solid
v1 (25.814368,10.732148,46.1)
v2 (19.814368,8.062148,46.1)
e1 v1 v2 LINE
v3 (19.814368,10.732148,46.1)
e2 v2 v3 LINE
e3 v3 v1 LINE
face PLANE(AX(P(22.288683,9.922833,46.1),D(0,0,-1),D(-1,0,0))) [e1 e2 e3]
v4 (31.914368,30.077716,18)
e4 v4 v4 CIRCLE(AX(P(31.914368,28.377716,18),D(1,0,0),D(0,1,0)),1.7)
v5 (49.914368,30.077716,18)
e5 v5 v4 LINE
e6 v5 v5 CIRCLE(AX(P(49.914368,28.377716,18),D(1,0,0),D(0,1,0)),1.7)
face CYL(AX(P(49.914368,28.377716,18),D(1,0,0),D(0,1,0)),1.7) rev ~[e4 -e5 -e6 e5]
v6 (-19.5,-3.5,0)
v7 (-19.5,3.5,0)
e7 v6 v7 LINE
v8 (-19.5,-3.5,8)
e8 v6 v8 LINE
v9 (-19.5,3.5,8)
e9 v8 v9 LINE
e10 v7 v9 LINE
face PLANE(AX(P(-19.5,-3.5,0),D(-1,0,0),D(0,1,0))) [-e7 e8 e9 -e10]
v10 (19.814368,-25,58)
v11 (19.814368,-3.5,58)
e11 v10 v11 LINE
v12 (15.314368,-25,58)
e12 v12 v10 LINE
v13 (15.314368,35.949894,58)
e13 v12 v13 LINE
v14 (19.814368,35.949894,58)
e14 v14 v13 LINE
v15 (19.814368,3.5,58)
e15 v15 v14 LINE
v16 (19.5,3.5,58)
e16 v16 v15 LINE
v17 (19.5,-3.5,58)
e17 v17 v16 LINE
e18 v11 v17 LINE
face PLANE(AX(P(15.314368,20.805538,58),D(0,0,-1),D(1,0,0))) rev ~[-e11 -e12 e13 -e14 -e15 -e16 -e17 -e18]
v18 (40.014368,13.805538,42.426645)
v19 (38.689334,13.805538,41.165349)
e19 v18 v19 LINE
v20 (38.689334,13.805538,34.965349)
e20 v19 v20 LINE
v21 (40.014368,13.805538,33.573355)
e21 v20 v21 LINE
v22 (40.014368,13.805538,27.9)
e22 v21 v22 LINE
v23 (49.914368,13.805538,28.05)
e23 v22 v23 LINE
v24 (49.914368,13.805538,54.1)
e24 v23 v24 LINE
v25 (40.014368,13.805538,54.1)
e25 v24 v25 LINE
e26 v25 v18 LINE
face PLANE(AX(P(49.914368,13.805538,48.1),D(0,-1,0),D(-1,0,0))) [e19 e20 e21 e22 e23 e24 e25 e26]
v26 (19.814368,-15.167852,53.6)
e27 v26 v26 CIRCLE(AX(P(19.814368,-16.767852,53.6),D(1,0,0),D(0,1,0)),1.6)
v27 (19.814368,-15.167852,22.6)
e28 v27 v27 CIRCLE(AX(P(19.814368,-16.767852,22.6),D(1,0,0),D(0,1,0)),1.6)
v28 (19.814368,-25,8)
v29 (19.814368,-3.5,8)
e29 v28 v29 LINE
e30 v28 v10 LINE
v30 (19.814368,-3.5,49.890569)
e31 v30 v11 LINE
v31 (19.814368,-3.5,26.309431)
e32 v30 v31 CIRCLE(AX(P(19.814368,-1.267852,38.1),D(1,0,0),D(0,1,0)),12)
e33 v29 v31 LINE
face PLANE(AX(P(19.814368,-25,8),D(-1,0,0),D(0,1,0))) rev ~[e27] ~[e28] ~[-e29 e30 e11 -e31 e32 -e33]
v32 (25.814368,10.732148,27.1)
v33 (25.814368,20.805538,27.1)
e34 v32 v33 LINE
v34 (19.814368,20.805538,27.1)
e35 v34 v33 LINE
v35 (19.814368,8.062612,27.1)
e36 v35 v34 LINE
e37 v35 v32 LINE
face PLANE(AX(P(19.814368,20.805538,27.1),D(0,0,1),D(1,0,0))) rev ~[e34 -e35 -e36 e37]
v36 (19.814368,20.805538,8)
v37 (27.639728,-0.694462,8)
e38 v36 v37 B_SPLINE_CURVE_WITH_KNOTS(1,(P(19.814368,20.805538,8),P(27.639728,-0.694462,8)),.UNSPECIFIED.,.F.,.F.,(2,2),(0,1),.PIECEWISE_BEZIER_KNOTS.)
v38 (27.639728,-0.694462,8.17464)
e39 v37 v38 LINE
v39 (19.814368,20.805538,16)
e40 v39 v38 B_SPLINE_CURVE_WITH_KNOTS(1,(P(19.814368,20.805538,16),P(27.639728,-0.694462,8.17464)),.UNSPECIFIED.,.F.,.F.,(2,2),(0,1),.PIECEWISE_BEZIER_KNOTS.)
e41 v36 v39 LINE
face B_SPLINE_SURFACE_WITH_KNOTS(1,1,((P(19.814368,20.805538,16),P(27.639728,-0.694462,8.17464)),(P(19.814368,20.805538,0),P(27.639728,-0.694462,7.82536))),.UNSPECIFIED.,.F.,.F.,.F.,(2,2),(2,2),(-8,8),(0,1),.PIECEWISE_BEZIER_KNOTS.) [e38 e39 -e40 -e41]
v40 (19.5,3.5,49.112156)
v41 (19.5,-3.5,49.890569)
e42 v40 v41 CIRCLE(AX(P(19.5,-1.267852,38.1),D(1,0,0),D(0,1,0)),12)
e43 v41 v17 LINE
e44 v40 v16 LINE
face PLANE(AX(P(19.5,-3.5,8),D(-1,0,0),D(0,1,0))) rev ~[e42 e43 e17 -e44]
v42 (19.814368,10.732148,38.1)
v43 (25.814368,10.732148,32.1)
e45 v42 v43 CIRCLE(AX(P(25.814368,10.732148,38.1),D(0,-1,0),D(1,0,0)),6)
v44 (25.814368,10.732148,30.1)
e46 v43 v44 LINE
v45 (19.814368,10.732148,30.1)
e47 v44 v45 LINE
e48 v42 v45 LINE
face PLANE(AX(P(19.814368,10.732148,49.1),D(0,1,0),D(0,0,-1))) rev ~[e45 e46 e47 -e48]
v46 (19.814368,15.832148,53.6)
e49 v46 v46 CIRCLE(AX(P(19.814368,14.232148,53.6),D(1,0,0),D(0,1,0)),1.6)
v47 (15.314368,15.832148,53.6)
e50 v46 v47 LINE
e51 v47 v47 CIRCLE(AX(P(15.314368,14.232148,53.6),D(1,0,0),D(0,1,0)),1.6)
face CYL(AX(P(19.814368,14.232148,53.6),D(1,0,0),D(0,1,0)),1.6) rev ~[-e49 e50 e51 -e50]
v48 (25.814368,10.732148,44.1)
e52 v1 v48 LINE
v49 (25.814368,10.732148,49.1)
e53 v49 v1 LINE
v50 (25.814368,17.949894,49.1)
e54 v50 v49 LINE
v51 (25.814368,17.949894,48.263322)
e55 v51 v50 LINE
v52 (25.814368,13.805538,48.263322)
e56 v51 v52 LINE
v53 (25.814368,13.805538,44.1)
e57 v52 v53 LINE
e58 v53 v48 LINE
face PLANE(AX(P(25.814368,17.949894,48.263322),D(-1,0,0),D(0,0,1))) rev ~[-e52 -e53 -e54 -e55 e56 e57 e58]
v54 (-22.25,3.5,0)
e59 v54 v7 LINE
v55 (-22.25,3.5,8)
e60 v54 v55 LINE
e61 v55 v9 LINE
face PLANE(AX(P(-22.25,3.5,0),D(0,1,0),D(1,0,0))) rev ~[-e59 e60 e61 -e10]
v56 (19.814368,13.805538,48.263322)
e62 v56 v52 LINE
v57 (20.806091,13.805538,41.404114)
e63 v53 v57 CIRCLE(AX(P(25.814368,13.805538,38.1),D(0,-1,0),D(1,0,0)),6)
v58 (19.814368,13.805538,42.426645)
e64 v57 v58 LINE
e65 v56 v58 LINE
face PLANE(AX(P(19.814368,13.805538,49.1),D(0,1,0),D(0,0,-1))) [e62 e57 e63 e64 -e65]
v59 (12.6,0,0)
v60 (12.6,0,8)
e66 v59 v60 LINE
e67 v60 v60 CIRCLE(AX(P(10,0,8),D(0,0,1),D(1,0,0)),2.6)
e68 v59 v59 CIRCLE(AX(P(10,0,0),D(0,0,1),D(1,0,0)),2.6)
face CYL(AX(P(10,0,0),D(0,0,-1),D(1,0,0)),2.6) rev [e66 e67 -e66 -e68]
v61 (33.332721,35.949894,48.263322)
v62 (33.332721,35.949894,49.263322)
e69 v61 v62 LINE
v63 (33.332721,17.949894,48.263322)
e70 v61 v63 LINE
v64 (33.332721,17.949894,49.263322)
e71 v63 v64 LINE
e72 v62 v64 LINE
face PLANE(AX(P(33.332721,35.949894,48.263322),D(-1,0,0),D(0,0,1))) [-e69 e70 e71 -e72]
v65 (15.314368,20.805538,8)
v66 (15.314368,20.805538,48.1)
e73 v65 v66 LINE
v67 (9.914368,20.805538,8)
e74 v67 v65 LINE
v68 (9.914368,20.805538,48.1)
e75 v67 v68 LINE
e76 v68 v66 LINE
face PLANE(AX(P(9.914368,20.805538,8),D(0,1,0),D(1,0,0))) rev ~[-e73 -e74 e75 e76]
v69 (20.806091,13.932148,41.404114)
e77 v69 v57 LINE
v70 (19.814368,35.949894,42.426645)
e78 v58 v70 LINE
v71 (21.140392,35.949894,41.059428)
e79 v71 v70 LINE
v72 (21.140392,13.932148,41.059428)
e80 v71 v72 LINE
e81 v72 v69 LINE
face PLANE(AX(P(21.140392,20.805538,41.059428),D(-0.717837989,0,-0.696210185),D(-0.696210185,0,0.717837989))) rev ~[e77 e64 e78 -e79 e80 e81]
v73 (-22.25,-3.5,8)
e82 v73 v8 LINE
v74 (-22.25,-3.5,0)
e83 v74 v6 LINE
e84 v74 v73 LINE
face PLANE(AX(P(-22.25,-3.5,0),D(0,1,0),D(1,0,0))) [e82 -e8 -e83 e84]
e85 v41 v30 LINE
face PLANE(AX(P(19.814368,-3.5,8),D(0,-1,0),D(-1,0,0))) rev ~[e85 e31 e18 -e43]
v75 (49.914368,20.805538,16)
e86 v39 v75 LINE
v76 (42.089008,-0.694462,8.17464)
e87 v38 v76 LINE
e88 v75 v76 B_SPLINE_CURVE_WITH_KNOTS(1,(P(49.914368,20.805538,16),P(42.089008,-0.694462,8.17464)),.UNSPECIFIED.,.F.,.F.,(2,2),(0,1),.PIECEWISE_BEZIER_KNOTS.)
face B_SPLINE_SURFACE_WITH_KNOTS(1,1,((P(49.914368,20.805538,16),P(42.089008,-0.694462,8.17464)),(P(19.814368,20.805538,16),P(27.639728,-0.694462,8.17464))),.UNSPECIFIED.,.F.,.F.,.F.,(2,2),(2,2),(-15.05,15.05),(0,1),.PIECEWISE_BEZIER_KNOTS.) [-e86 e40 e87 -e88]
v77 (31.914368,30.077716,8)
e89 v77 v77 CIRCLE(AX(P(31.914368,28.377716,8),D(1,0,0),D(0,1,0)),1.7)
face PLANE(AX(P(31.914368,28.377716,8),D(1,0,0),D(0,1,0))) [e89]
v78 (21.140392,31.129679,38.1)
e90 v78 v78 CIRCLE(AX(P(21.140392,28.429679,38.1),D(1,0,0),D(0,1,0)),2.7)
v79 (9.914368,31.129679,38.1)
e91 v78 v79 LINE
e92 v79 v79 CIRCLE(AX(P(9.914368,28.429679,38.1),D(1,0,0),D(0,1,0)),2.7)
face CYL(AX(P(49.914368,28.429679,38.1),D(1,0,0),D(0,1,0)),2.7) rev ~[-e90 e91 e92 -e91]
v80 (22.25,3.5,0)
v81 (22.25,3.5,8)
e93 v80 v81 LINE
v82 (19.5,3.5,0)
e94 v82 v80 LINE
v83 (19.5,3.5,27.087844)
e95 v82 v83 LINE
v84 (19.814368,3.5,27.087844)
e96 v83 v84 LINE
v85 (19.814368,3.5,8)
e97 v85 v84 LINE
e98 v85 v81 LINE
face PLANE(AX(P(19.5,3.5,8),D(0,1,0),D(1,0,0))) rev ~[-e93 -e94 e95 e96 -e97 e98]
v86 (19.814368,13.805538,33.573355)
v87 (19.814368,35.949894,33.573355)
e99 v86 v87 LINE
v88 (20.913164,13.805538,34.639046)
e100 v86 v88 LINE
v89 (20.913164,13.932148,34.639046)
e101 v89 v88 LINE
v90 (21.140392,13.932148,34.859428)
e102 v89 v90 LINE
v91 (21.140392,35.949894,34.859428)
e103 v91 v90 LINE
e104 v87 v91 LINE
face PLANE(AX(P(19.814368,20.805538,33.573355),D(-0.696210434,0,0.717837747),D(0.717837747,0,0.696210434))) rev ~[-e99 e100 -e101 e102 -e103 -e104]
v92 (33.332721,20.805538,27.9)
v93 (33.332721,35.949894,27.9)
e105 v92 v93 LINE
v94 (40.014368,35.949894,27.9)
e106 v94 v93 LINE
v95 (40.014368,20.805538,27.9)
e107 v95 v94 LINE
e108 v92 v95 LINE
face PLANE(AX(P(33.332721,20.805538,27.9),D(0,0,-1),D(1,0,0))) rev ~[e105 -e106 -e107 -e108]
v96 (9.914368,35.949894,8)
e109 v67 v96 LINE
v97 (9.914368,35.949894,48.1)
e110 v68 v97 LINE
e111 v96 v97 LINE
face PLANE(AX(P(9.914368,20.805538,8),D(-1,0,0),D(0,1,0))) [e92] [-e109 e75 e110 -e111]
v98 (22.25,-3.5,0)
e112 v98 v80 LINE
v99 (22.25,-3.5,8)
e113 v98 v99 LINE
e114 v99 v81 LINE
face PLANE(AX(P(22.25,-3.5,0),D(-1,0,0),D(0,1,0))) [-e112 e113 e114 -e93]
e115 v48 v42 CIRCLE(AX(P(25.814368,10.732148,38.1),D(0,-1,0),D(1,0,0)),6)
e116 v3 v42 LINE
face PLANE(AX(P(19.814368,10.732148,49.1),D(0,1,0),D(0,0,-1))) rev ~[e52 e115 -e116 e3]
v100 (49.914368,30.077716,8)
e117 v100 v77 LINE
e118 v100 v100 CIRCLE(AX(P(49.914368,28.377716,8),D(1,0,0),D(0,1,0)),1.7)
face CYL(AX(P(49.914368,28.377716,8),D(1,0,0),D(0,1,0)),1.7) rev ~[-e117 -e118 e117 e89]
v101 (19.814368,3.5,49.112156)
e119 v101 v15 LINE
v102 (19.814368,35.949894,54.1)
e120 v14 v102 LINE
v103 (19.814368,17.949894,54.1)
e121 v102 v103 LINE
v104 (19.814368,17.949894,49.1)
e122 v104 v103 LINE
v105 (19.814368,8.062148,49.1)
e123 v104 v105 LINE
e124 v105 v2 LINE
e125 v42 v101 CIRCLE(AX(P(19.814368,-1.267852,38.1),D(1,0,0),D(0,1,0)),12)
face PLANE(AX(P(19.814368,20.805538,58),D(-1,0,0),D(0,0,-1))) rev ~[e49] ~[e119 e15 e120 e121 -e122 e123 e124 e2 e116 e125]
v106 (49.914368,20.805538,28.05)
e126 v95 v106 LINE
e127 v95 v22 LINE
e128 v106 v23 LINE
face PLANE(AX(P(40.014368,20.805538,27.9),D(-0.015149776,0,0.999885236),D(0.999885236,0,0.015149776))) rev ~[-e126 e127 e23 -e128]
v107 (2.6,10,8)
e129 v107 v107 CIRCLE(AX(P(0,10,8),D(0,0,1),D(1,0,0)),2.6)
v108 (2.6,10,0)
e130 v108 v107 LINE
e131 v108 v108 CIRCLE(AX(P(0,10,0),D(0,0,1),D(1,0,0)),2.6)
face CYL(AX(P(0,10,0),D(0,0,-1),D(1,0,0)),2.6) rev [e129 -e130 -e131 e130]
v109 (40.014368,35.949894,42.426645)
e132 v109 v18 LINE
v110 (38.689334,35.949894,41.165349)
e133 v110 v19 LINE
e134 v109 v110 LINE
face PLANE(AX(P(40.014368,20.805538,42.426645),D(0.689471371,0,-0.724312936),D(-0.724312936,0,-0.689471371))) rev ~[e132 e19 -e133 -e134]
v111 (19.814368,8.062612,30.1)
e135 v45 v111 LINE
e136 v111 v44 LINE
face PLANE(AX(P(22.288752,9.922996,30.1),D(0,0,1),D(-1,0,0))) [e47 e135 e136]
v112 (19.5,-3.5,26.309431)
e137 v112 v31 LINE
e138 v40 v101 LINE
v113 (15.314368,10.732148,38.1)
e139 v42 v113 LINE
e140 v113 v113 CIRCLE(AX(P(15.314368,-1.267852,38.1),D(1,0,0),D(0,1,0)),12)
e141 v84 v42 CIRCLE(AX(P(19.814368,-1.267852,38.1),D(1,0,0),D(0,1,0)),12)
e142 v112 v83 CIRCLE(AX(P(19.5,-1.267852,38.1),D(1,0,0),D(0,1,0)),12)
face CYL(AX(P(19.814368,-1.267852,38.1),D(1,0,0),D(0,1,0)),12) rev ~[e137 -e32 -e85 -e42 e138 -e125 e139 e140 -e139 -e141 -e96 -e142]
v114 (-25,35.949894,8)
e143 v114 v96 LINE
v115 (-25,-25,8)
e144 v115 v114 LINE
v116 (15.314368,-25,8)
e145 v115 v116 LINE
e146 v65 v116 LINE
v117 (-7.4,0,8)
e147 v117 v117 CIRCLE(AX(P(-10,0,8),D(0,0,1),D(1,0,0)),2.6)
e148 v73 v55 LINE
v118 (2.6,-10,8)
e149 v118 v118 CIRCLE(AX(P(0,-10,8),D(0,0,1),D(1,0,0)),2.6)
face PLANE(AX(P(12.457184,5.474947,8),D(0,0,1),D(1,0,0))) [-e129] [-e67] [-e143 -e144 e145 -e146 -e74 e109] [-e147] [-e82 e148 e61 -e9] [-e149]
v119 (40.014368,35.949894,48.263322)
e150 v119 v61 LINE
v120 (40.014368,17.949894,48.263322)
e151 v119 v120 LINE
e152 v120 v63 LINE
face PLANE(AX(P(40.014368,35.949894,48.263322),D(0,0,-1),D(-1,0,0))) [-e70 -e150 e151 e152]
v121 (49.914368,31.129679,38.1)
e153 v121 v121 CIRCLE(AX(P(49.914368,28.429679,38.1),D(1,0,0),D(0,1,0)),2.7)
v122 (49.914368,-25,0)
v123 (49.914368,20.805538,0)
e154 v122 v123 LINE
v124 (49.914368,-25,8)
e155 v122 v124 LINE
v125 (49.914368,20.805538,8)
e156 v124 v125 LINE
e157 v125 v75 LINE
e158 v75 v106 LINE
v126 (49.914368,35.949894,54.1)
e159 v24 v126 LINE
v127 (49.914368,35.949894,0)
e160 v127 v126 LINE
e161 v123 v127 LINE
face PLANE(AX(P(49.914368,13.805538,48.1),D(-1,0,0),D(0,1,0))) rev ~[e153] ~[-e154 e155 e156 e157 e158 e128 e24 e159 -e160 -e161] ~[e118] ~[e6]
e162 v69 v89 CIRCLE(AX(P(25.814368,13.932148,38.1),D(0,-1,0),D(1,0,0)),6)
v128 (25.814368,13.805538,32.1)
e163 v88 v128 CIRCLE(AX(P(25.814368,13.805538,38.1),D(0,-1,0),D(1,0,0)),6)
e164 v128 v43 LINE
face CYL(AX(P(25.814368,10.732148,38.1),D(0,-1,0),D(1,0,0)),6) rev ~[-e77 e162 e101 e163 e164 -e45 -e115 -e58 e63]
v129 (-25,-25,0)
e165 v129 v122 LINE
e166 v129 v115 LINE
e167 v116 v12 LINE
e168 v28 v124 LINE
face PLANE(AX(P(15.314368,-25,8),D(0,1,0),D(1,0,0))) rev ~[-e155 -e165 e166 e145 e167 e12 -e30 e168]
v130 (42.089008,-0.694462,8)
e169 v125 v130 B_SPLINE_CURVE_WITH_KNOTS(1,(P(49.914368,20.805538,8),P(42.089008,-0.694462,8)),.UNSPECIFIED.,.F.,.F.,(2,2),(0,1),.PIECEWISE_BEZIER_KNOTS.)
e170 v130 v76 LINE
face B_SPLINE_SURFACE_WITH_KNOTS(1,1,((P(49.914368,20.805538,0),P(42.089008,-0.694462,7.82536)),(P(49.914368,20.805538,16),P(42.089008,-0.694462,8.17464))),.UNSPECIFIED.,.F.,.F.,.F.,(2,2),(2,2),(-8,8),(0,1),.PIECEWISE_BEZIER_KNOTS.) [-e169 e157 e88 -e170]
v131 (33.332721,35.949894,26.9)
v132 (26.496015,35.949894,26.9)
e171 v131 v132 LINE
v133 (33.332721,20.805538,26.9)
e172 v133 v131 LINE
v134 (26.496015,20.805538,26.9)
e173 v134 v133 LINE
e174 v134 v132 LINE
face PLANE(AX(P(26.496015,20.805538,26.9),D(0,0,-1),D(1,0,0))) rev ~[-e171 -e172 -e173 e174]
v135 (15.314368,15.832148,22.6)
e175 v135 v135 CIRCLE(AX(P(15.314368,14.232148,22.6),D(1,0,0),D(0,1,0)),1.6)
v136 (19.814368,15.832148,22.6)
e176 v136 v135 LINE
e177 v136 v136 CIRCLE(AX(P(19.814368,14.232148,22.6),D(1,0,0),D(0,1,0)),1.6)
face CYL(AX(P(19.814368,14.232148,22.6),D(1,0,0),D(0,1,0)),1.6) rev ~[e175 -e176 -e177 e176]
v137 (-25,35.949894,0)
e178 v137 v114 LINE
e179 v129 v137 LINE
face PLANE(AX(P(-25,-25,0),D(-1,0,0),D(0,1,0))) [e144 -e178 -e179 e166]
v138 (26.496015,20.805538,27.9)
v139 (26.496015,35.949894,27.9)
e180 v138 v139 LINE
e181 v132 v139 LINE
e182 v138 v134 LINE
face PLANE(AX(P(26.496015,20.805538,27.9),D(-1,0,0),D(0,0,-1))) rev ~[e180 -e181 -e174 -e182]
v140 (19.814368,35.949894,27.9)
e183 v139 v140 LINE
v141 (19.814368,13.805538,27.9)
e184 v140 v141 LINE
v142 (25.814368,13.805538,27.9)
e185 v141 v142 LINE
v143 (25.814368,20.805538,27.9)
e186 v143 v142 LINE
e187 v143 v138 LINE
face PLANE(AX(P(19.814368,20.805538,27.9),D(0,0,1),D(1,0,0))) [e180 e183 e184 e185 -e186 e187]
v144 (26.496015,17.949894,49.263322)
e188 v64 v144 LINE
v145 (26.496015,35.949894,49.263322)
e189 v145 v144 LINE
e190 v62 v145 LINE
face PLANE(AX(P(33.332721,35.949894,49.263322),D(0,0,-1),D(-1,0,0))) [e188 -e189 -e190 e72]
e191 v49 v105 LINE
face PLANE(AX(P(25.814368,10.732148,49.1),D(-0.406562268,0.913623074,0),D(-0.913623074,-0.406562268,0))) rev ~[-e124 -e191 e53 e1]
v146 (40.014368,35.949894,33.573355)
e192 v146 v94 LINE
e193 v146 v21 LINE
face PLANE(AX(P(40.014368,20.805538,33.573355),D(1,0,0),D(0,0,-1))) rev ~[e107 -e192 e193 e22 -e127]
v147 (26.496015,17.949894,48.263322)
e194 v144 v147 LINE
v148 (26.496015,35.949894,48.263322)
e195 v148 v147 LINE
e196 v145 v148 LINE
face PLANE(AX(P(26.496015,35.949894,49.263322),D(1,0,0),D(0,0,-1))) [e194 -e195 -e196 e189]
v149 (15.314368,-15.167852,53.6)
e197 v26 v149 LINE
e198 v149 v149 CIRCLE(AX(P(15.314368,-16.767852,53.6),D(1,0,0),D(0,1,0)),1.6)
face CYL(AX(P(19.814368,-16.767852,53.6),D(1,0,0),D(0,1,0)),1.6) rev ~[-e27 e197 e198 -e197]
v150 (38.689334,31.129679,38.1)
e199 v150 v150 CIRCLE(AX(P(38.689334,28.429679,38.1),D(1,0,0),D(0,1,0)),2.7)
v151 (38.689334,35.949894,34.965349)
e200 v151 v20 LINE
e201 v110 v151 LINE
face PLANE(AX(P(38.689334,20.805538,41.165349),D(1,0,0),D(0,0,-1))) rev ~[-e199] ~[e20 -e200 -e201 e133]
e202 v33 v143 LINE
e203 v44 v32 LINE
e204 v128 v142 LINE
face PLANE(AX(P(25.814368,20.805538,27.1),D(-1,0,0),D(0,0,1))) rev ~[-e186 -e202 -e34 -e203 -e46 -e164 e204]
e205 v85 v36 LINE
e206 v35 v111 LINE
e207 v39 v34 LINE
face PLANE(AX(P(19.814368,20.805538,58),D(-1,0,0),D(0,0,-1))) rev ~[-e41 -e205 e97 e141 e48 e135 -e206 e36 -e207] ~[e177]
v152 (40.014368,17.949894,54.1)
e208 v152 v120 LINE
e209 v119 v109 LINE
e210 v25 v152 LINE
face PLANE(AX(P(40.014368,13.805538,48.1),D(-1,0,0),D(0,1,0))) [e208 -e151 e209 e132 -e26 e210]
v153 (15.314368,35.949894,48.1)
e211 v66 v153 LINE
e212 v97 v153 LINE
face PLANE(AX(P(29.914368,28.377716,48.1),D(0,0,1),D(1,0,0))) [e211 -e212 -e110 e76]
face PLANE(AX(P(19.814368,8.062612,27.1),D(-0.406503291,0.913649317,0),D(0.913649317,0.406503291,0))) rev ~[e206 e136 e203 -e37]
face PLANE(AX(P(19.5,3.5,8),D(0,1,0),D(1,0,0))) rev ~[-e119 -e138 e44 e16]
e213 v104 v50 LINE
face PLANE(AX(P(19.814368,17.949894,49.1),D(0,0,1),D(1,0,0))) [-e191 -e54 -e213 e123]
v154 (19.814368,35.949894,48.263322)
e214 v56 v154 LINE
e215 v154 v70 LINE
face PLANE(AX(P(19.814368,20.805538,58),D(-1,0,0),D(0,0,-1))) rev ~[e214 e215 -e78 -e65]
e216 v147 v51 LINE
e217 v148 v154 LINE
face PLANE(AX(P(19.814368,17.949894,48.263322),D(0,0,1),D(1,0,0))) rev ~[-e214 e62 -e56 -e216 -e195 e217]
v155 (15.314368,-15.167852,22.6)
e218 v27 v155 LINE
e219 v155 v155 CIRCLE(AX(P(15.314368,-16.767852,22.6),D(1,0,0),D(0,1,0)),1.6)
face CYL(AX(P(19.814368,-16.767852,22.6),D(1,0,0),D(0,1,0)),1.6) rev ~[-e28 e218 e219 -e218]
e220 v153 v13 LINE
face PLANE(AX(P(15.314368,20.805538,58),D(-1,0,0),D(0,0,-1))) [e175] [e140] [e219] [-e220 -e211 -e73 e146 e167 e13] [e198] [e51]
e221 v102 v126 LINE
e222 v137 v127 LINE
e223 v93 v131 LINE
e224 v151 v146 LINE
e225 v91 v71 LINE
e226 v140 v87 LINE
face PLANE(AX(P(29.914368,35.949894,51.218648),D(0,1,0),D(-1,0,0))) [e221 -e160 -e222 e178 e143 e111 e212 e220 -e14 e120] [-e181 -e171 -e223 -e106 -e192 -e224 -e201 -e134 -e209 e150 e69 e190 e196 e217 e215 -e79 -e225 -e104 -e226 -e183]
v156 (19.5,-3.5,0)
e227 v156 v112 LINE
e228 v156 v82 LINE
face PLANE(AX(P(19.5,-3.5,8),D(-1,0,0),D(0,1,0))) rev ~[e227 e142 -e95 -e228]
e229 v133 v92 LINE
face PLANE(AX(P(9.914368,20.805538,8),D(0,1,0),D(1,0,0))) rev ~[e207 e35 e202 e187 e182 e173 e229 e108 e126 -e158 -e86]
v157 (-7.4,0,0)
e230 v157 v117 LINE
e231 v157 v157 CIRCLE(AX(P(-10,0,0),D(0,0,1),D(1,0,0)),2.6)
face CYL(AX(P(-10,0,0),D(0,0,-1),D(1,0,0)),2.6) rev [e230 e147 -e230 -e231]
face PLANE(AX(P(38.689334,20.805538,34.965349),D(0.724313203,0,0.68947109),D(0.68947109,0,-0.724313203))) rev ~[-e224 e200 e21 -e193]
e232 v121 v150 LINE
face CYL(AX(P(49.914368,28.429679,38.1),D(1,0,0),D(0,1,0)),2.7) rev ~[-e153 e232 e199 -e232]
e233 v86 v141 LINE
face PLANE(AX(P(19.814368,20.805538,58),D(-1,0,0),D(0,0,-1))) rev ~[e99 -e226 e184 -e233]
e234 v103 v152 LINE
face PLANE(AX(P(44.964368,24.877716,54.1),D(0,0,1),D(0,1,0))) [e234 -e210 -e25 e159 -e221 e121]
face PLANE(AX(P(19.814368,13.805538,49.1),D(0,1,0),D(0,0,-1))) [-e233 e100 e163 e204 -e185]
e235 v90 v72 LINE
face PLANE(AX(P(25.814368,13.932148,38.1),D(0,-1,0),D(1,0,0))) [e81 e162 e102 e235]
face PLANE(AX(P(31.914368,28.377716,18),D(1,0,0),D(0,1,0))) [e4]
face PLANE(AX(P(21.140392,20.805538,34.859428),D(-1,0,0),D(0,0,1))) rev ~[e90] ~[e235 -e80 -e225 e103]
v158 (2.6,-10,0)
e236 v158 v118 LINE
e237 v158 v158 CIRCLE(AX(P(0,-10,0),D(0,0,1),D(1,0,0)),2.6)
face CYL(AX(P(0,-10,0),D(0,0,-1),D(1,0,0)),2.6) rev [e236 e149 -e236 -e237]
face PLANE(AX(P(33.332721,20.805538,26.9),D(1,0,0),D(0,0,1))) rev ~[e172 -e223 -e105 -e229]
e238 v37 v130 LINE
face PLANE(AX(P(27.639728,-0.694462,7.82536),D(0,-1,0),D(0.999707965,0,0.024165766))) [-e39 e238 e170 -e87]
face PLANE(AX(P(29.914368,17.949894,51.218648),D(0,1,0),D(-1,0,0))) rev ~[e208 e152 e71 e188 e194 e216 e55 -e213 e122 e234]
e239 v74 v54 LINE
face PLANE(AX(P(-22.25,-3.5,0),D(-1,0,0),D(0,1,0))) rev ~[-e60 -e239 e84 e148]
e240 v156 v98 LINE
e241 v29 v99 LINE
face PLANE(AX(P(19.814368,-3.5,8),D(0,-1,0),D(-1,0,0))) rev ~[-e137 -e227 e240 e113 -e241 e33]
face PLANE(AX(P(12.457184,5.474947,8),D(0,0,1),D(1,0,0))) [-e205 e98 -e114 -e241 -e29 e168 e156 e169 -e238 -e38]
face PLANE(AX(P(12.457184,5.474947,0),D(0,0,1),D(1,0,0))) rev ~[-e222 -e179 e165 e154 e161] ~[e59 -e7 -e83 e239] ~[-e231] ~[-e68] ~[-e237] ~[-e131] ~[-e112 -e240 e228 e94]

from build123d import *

# Parameters (mm, degrees)
SKETCH007_W         = 74.914368
SKETCH007_H         = 60.949894
SKETCH007_R         = 2.6
SKETCH007_W_2       = 2.75
SKETCH007_H_2       = 7
PAD005_DEPTH        = 8
SKETCH009_W         = 40
SKETCH009_H         = 15.144356
PAD006_DEPTH        = 40.1
POCKET004_DEPTH     = 50
PAD007_DEPTH        = 50
PAD008_DEPTH        = 7
PAD009_DEPTH        = 7
SKETCH012_R         = 2.7
POCKET005_DEPTH     = 1000
SKETCH014_R         = 12
SKETCH014_R_2       = 1.6
POCKET006_DEPTH     = 5
SKETCH015_W         = 30.1
SKETCH015_H         = 16
PAD010_DEPTH        = 21.5
PAD010_TAPER        = 20
PAD010_FACE47_W     = 4.5
PAD010_FACE47_H     = 9.9
PAD011_DEPTH        = 16
PAD011_FACE21_W     = 0.855644
PAD011_FACE21_H     = 4.5
POCKET007_DEPTH     = 20
SKETCH016_R         = 1.7
POCKET008_DEPTH     = 18
LINEARPATTERN_COUNT = 2
LINEARPATTERN_PITCH = 10
PAD015_DEPTH        = 6
PAD016_DEPTH        = 3
PAD017_DEPTH        = 3
SKETCH027_R         = 6
POCKET010_DEPTH     = 3.2
POCKET010_FACE26_W  = 22.144356
POCKET010_FACE26_H  = 9.9
PAD018_DEPTH        = 6
PAD_DEPTH           = 18
SKETCH_W            = 6
SKETCH_H            = 0.836678
PAD019_DEPTH        = 7
SKETCH029_W         = 6
SKETCH029_H         = 0.8
PAD020_DEPTH        = 10


with BuildPart() as part:
    # Sketch007 → Pad005 (new body)
    with BuildSketch(Plane.XY):
        with Locations((12.457184, 5.474947)):
            Rectangle(SKETCH007_W, SKETCH007_H)
        with Locations((0, 10)):
            Circle(SKETCH007_R, mode=Mode.SUBTRACT)
        with Locations((10, 0)):
            Circle(SKETCH007_R, mode=Mode.SUBTRACT)
        with Locations((-10, 0)):
            Circle(SKETCH007_R, mode=Mode.SUBTRACT)
        with Locations((0, -10)):
            Circle(SKETCH007_R, mode=Mode.SUBTRACT)
        with Locations((20.875, 0)):
            Rectangle(SKETCH007_W_2, SKETCH007_H_2, mode=Mode.SUBTRACT)
        with Locations((-20.875, 0)):
            Rectangle(SKETCH007_W_2, SKETCH007_H_2, mode=Mode.SUBTRACT)
    extrude(amount=PAD005_DEPTH)

    # Sketch009 (on Face18 of Pad005) → Pad006 (join)
    with BuildSketch(Plane.XY.offset(8)):
        with Locations((29.914368, 28.377716)):
            Rectangle(SKETCH009_W, SKETCH009_H)
    extrude(amount=PAD006_DEPTH)

    # Sketch010 (on Face19 of Pad006) → Pocket004 (cut)
    with BuildSketch(Plane.XZ.offset(-20.805538)):
        Polygon((19.814368, 48.1), (19.814368, 42.426645), (21.140392, 41.059428), (21.140392, 34.859428), (19.814368, 33.573355), (19.814368, 27.9), (26.496015, 27.9), (26.496015, 26.9), (33.332721, 26.9), (33.332721, 27.9), (40.014368, 27.9), (40.014368, 33.573355), (38.689334, 34.965349), (38.689334, 41.165349), (40.014368, 42.426645), (40.014368, 48.1), align=None)
    extrude(amount=-POCKET004_DEPTH, mode=Mode.SUBTRACT)

    # Sketch011 (on Face5 of Pocket004) → Pad007 (join)
    with BuildSketch(Plane.XY.offset(8)):
        Polygon((15.314368, 20.805538), (15.314368, -25), (19.814368, -25), (19.814368, -3.5), (19.5, -3.5), (19.5, 3.5), (19.814368, 3.5), (19.814368, 20.805538), align=None)
    extrude(amount=PAD007_DEPTH)

    # Sketch013 (on Face34 of Pad007) → Pad008 (join)
    with BuildSketch(Plane.XZ.offset(-20.805538)):
        Polygon((40.014368, 48.1), (40.014368, 42.426645), (38.689334, 41.165349), (38.689334, 34.965349), (40.014368, 33.573355), (40.014368, 27.9), (49.914368, 28.05), (49.914368, 48.1), align=None)
    extrude(amount=PAD008_DEPTH)

    # Pad008 Face35 → Pad009 (add)
    with BuildSketch(Plane(origin=(20.438426, 20.805538, 37.980906), x_dir=(-1, 0, 0), z_dir=(0, -1, 0))):
        Polygon((0.624058, 4.407551), (-0.701966, 3.121478), (-0.701966, -3.078522), (0.624058, -4.445739), align=None)
    extrude(amount=PAD009_DEPTH)

    # Sketch012 (on Face5 of Pad007) → Pocket005 (cut)
    with BuildSketch(Plane.YZ.offset(49.914368)):
        with Locations((28.429679, 38.1)):
            Circle(SKETCH012_R)
    extrude(amount=-POCKET005_DEPTH, mode=Mode.SUBTRACT)

    # Sketch014 (on Face25 of Pocket005) → Pocket006 (cut)
    with BuildSketch(Plane.YZ.offset(19.814368)):
        with Locations((-1.267852, 38.1)):
            Circle(SKETCH014_R)
        with Locations((-16.767852, 53.6)):
            Circle(SKETCH014_R_2)
        with Locations((14.232148, 53.6)):
            Circle(SKETCH014_R_2)
        with Locations((14.232148, 22.6)):
            Circle(SKETCH014_R_2)
        with Locations((-16.767852, 22.6)):
            Circle(SKETCH014_R_2)
    extrude(amount=-POCKET006_DEPTH, mode=Mode.SUBTRACT)

    # Sketch015 (on Face41 of Pocket006) → Pad010 (join)
    with BuildSketch(Plane.XZ.offset(-20.805538)):
        with Locations((34.864368, 8)):
            Rectangle(SKETCH015_W, SKETCH015_H)
    extrude(amount=PAD010_DEPTH, taper=PAD010_TAPER)

    # Pad010 Face47 → Pad011 (add)
    with BuildSketch(Plane(origin=(17.564368, 20.805538, 53.05), x_dir=(1, 0, 0), z_dir=(0, 1, 0))):
        Rectangle(PAD010_FACE47_W, PAD010_FACE47_H)
    extrude(amount=PAD011_DEPTH)

    # Pad011 Face21 → Pocket007 (cut)
    with BuildSketch(Plane(origin=(17.564368, 36.377716, 48.1), x_dir=(0, -1, 0), z_dir=(0, 0, -1))):
        Rectangle(PAD011_FACE21_W, PAD011_FACE21_H)
    extrude(amount=-POCKET007_DEPTH, mode=Mode.SUBTRACT)

    # Sketch016 (on Face5 of Pocket007) → Pocket008 (cut)
    with BuildSketch(Plane.YZ.offset(49.914368)):
        with Locations((28.377716, 8)):
            Circle(SKETCH016_R)
    pocket008 = extrude(amount=-POCKET008_DEPTH, mode=Mode.SUBTRACT)

    # LinearPattern: Pocket008 ×2
    with Locations(*[(0, 0, i * LINEARPATTERN_PITCH) for i in range(1, LINEARPATTERN_COUNT)]):
        add(pocket008, mode=Mode.SUBTRACT)

    # Sketch021 (on Face11 of LinearPattern) → Pad015 (join)
    with BuildSketch(Plane.YZ.offset(19.814368)):
        Polygon((10.732148, 38.1), (10.732148, 49.1), (13.805538, 49.1), (13.805538, 27.1), (10.732148, 27.1), align=None)
    extrude(amount=PAD015_DEPTH)

    # Sketch025 (on Face62 of Pad015) → Pad016 (join)
    with BuildSketch(Plane(origin=(0, 0, 27.1), x_dir=(1, 0, 0), z_dir=(0, 0, -1))):
        Polygon((25.814368, -10.732148), (19.814368, -10.732148), (19.814368, -8.062612), align=None)
    extrude(amount=-PAD016_DEPTH)

    # Sketch026 (on Face59 of Pad016) → Pad017 (join)
    with BuildSketch(Plane.XY.offset(49.1)):
        Polygon((19.814368, 10.732148), (25.814368, 10.732148), (19.814368, 8.062148), align=None)
    extrude(amount=-PAD017_DEPTH)

    # Sketch027 (on Face61 of Pad017) → Pocket010 (cut)
    with BuildSketch(Plane.XZ.offset(-10.732148)):
        with Locations((25.814368, 38.1)):
            Circle(SKETCH027_R)
    extrude(amount=-POCKET010_DEPTH, mode=Mode.SUBTRACT)

    # Pocket010 Face26 → Pad018 (add)
    with BuildSketch(Plane(origin=(44.964368, 24.877716, 48.1), x_dir=(0, 1, 0), z_dir=(0, 0, 1))):
        Rectangle(POCKET010_FACE26_W, POCKET010_FACE26_H)
    extrude(amount=PAD018_DEPTH)

    # Sketch028 (on Face68 of Pad018) → Pad (join)
    with BuildSketch(Plane(origin=(0, 35.949894, 0), x_dir=(-1, 0, 0), z_dir=(0, 1, 0))):
        Polygon((-40.014368, 48.263322), (-33.332721, 48.263322), (-33.332721, 49.263322), (-26.496015, 49.263322), (-26.496015, 48.263322), (-19.814368, 48.263322), (-19.814368, 54.1), (-40.014368, 54.1), align=None)
    extrude(amount=-PAD_DEPTH)

    # Sketch (on Face49 of Pad) → Pad019 (join)
    with BuildSketch(Plane.XZ.offset(-17.949894)):
        with Locations((22.814368, 48.681661)):
            Rectangle(SKETCH_W, SKETCH_H)
    extrude(amount=PAD019_DEPTH)

    # Sketch029 (on Face63 of Pad019) → Pad020 (join)
    with BuildSketch(Plane.XZ.offset(-20.805538)):
        with Locations((22.814368, 27.5)):
            Rectangle(SKETCH029_W, SKETCH029_H)
    extrude(amount=PAD020_DEPTH)


solid = part.part
